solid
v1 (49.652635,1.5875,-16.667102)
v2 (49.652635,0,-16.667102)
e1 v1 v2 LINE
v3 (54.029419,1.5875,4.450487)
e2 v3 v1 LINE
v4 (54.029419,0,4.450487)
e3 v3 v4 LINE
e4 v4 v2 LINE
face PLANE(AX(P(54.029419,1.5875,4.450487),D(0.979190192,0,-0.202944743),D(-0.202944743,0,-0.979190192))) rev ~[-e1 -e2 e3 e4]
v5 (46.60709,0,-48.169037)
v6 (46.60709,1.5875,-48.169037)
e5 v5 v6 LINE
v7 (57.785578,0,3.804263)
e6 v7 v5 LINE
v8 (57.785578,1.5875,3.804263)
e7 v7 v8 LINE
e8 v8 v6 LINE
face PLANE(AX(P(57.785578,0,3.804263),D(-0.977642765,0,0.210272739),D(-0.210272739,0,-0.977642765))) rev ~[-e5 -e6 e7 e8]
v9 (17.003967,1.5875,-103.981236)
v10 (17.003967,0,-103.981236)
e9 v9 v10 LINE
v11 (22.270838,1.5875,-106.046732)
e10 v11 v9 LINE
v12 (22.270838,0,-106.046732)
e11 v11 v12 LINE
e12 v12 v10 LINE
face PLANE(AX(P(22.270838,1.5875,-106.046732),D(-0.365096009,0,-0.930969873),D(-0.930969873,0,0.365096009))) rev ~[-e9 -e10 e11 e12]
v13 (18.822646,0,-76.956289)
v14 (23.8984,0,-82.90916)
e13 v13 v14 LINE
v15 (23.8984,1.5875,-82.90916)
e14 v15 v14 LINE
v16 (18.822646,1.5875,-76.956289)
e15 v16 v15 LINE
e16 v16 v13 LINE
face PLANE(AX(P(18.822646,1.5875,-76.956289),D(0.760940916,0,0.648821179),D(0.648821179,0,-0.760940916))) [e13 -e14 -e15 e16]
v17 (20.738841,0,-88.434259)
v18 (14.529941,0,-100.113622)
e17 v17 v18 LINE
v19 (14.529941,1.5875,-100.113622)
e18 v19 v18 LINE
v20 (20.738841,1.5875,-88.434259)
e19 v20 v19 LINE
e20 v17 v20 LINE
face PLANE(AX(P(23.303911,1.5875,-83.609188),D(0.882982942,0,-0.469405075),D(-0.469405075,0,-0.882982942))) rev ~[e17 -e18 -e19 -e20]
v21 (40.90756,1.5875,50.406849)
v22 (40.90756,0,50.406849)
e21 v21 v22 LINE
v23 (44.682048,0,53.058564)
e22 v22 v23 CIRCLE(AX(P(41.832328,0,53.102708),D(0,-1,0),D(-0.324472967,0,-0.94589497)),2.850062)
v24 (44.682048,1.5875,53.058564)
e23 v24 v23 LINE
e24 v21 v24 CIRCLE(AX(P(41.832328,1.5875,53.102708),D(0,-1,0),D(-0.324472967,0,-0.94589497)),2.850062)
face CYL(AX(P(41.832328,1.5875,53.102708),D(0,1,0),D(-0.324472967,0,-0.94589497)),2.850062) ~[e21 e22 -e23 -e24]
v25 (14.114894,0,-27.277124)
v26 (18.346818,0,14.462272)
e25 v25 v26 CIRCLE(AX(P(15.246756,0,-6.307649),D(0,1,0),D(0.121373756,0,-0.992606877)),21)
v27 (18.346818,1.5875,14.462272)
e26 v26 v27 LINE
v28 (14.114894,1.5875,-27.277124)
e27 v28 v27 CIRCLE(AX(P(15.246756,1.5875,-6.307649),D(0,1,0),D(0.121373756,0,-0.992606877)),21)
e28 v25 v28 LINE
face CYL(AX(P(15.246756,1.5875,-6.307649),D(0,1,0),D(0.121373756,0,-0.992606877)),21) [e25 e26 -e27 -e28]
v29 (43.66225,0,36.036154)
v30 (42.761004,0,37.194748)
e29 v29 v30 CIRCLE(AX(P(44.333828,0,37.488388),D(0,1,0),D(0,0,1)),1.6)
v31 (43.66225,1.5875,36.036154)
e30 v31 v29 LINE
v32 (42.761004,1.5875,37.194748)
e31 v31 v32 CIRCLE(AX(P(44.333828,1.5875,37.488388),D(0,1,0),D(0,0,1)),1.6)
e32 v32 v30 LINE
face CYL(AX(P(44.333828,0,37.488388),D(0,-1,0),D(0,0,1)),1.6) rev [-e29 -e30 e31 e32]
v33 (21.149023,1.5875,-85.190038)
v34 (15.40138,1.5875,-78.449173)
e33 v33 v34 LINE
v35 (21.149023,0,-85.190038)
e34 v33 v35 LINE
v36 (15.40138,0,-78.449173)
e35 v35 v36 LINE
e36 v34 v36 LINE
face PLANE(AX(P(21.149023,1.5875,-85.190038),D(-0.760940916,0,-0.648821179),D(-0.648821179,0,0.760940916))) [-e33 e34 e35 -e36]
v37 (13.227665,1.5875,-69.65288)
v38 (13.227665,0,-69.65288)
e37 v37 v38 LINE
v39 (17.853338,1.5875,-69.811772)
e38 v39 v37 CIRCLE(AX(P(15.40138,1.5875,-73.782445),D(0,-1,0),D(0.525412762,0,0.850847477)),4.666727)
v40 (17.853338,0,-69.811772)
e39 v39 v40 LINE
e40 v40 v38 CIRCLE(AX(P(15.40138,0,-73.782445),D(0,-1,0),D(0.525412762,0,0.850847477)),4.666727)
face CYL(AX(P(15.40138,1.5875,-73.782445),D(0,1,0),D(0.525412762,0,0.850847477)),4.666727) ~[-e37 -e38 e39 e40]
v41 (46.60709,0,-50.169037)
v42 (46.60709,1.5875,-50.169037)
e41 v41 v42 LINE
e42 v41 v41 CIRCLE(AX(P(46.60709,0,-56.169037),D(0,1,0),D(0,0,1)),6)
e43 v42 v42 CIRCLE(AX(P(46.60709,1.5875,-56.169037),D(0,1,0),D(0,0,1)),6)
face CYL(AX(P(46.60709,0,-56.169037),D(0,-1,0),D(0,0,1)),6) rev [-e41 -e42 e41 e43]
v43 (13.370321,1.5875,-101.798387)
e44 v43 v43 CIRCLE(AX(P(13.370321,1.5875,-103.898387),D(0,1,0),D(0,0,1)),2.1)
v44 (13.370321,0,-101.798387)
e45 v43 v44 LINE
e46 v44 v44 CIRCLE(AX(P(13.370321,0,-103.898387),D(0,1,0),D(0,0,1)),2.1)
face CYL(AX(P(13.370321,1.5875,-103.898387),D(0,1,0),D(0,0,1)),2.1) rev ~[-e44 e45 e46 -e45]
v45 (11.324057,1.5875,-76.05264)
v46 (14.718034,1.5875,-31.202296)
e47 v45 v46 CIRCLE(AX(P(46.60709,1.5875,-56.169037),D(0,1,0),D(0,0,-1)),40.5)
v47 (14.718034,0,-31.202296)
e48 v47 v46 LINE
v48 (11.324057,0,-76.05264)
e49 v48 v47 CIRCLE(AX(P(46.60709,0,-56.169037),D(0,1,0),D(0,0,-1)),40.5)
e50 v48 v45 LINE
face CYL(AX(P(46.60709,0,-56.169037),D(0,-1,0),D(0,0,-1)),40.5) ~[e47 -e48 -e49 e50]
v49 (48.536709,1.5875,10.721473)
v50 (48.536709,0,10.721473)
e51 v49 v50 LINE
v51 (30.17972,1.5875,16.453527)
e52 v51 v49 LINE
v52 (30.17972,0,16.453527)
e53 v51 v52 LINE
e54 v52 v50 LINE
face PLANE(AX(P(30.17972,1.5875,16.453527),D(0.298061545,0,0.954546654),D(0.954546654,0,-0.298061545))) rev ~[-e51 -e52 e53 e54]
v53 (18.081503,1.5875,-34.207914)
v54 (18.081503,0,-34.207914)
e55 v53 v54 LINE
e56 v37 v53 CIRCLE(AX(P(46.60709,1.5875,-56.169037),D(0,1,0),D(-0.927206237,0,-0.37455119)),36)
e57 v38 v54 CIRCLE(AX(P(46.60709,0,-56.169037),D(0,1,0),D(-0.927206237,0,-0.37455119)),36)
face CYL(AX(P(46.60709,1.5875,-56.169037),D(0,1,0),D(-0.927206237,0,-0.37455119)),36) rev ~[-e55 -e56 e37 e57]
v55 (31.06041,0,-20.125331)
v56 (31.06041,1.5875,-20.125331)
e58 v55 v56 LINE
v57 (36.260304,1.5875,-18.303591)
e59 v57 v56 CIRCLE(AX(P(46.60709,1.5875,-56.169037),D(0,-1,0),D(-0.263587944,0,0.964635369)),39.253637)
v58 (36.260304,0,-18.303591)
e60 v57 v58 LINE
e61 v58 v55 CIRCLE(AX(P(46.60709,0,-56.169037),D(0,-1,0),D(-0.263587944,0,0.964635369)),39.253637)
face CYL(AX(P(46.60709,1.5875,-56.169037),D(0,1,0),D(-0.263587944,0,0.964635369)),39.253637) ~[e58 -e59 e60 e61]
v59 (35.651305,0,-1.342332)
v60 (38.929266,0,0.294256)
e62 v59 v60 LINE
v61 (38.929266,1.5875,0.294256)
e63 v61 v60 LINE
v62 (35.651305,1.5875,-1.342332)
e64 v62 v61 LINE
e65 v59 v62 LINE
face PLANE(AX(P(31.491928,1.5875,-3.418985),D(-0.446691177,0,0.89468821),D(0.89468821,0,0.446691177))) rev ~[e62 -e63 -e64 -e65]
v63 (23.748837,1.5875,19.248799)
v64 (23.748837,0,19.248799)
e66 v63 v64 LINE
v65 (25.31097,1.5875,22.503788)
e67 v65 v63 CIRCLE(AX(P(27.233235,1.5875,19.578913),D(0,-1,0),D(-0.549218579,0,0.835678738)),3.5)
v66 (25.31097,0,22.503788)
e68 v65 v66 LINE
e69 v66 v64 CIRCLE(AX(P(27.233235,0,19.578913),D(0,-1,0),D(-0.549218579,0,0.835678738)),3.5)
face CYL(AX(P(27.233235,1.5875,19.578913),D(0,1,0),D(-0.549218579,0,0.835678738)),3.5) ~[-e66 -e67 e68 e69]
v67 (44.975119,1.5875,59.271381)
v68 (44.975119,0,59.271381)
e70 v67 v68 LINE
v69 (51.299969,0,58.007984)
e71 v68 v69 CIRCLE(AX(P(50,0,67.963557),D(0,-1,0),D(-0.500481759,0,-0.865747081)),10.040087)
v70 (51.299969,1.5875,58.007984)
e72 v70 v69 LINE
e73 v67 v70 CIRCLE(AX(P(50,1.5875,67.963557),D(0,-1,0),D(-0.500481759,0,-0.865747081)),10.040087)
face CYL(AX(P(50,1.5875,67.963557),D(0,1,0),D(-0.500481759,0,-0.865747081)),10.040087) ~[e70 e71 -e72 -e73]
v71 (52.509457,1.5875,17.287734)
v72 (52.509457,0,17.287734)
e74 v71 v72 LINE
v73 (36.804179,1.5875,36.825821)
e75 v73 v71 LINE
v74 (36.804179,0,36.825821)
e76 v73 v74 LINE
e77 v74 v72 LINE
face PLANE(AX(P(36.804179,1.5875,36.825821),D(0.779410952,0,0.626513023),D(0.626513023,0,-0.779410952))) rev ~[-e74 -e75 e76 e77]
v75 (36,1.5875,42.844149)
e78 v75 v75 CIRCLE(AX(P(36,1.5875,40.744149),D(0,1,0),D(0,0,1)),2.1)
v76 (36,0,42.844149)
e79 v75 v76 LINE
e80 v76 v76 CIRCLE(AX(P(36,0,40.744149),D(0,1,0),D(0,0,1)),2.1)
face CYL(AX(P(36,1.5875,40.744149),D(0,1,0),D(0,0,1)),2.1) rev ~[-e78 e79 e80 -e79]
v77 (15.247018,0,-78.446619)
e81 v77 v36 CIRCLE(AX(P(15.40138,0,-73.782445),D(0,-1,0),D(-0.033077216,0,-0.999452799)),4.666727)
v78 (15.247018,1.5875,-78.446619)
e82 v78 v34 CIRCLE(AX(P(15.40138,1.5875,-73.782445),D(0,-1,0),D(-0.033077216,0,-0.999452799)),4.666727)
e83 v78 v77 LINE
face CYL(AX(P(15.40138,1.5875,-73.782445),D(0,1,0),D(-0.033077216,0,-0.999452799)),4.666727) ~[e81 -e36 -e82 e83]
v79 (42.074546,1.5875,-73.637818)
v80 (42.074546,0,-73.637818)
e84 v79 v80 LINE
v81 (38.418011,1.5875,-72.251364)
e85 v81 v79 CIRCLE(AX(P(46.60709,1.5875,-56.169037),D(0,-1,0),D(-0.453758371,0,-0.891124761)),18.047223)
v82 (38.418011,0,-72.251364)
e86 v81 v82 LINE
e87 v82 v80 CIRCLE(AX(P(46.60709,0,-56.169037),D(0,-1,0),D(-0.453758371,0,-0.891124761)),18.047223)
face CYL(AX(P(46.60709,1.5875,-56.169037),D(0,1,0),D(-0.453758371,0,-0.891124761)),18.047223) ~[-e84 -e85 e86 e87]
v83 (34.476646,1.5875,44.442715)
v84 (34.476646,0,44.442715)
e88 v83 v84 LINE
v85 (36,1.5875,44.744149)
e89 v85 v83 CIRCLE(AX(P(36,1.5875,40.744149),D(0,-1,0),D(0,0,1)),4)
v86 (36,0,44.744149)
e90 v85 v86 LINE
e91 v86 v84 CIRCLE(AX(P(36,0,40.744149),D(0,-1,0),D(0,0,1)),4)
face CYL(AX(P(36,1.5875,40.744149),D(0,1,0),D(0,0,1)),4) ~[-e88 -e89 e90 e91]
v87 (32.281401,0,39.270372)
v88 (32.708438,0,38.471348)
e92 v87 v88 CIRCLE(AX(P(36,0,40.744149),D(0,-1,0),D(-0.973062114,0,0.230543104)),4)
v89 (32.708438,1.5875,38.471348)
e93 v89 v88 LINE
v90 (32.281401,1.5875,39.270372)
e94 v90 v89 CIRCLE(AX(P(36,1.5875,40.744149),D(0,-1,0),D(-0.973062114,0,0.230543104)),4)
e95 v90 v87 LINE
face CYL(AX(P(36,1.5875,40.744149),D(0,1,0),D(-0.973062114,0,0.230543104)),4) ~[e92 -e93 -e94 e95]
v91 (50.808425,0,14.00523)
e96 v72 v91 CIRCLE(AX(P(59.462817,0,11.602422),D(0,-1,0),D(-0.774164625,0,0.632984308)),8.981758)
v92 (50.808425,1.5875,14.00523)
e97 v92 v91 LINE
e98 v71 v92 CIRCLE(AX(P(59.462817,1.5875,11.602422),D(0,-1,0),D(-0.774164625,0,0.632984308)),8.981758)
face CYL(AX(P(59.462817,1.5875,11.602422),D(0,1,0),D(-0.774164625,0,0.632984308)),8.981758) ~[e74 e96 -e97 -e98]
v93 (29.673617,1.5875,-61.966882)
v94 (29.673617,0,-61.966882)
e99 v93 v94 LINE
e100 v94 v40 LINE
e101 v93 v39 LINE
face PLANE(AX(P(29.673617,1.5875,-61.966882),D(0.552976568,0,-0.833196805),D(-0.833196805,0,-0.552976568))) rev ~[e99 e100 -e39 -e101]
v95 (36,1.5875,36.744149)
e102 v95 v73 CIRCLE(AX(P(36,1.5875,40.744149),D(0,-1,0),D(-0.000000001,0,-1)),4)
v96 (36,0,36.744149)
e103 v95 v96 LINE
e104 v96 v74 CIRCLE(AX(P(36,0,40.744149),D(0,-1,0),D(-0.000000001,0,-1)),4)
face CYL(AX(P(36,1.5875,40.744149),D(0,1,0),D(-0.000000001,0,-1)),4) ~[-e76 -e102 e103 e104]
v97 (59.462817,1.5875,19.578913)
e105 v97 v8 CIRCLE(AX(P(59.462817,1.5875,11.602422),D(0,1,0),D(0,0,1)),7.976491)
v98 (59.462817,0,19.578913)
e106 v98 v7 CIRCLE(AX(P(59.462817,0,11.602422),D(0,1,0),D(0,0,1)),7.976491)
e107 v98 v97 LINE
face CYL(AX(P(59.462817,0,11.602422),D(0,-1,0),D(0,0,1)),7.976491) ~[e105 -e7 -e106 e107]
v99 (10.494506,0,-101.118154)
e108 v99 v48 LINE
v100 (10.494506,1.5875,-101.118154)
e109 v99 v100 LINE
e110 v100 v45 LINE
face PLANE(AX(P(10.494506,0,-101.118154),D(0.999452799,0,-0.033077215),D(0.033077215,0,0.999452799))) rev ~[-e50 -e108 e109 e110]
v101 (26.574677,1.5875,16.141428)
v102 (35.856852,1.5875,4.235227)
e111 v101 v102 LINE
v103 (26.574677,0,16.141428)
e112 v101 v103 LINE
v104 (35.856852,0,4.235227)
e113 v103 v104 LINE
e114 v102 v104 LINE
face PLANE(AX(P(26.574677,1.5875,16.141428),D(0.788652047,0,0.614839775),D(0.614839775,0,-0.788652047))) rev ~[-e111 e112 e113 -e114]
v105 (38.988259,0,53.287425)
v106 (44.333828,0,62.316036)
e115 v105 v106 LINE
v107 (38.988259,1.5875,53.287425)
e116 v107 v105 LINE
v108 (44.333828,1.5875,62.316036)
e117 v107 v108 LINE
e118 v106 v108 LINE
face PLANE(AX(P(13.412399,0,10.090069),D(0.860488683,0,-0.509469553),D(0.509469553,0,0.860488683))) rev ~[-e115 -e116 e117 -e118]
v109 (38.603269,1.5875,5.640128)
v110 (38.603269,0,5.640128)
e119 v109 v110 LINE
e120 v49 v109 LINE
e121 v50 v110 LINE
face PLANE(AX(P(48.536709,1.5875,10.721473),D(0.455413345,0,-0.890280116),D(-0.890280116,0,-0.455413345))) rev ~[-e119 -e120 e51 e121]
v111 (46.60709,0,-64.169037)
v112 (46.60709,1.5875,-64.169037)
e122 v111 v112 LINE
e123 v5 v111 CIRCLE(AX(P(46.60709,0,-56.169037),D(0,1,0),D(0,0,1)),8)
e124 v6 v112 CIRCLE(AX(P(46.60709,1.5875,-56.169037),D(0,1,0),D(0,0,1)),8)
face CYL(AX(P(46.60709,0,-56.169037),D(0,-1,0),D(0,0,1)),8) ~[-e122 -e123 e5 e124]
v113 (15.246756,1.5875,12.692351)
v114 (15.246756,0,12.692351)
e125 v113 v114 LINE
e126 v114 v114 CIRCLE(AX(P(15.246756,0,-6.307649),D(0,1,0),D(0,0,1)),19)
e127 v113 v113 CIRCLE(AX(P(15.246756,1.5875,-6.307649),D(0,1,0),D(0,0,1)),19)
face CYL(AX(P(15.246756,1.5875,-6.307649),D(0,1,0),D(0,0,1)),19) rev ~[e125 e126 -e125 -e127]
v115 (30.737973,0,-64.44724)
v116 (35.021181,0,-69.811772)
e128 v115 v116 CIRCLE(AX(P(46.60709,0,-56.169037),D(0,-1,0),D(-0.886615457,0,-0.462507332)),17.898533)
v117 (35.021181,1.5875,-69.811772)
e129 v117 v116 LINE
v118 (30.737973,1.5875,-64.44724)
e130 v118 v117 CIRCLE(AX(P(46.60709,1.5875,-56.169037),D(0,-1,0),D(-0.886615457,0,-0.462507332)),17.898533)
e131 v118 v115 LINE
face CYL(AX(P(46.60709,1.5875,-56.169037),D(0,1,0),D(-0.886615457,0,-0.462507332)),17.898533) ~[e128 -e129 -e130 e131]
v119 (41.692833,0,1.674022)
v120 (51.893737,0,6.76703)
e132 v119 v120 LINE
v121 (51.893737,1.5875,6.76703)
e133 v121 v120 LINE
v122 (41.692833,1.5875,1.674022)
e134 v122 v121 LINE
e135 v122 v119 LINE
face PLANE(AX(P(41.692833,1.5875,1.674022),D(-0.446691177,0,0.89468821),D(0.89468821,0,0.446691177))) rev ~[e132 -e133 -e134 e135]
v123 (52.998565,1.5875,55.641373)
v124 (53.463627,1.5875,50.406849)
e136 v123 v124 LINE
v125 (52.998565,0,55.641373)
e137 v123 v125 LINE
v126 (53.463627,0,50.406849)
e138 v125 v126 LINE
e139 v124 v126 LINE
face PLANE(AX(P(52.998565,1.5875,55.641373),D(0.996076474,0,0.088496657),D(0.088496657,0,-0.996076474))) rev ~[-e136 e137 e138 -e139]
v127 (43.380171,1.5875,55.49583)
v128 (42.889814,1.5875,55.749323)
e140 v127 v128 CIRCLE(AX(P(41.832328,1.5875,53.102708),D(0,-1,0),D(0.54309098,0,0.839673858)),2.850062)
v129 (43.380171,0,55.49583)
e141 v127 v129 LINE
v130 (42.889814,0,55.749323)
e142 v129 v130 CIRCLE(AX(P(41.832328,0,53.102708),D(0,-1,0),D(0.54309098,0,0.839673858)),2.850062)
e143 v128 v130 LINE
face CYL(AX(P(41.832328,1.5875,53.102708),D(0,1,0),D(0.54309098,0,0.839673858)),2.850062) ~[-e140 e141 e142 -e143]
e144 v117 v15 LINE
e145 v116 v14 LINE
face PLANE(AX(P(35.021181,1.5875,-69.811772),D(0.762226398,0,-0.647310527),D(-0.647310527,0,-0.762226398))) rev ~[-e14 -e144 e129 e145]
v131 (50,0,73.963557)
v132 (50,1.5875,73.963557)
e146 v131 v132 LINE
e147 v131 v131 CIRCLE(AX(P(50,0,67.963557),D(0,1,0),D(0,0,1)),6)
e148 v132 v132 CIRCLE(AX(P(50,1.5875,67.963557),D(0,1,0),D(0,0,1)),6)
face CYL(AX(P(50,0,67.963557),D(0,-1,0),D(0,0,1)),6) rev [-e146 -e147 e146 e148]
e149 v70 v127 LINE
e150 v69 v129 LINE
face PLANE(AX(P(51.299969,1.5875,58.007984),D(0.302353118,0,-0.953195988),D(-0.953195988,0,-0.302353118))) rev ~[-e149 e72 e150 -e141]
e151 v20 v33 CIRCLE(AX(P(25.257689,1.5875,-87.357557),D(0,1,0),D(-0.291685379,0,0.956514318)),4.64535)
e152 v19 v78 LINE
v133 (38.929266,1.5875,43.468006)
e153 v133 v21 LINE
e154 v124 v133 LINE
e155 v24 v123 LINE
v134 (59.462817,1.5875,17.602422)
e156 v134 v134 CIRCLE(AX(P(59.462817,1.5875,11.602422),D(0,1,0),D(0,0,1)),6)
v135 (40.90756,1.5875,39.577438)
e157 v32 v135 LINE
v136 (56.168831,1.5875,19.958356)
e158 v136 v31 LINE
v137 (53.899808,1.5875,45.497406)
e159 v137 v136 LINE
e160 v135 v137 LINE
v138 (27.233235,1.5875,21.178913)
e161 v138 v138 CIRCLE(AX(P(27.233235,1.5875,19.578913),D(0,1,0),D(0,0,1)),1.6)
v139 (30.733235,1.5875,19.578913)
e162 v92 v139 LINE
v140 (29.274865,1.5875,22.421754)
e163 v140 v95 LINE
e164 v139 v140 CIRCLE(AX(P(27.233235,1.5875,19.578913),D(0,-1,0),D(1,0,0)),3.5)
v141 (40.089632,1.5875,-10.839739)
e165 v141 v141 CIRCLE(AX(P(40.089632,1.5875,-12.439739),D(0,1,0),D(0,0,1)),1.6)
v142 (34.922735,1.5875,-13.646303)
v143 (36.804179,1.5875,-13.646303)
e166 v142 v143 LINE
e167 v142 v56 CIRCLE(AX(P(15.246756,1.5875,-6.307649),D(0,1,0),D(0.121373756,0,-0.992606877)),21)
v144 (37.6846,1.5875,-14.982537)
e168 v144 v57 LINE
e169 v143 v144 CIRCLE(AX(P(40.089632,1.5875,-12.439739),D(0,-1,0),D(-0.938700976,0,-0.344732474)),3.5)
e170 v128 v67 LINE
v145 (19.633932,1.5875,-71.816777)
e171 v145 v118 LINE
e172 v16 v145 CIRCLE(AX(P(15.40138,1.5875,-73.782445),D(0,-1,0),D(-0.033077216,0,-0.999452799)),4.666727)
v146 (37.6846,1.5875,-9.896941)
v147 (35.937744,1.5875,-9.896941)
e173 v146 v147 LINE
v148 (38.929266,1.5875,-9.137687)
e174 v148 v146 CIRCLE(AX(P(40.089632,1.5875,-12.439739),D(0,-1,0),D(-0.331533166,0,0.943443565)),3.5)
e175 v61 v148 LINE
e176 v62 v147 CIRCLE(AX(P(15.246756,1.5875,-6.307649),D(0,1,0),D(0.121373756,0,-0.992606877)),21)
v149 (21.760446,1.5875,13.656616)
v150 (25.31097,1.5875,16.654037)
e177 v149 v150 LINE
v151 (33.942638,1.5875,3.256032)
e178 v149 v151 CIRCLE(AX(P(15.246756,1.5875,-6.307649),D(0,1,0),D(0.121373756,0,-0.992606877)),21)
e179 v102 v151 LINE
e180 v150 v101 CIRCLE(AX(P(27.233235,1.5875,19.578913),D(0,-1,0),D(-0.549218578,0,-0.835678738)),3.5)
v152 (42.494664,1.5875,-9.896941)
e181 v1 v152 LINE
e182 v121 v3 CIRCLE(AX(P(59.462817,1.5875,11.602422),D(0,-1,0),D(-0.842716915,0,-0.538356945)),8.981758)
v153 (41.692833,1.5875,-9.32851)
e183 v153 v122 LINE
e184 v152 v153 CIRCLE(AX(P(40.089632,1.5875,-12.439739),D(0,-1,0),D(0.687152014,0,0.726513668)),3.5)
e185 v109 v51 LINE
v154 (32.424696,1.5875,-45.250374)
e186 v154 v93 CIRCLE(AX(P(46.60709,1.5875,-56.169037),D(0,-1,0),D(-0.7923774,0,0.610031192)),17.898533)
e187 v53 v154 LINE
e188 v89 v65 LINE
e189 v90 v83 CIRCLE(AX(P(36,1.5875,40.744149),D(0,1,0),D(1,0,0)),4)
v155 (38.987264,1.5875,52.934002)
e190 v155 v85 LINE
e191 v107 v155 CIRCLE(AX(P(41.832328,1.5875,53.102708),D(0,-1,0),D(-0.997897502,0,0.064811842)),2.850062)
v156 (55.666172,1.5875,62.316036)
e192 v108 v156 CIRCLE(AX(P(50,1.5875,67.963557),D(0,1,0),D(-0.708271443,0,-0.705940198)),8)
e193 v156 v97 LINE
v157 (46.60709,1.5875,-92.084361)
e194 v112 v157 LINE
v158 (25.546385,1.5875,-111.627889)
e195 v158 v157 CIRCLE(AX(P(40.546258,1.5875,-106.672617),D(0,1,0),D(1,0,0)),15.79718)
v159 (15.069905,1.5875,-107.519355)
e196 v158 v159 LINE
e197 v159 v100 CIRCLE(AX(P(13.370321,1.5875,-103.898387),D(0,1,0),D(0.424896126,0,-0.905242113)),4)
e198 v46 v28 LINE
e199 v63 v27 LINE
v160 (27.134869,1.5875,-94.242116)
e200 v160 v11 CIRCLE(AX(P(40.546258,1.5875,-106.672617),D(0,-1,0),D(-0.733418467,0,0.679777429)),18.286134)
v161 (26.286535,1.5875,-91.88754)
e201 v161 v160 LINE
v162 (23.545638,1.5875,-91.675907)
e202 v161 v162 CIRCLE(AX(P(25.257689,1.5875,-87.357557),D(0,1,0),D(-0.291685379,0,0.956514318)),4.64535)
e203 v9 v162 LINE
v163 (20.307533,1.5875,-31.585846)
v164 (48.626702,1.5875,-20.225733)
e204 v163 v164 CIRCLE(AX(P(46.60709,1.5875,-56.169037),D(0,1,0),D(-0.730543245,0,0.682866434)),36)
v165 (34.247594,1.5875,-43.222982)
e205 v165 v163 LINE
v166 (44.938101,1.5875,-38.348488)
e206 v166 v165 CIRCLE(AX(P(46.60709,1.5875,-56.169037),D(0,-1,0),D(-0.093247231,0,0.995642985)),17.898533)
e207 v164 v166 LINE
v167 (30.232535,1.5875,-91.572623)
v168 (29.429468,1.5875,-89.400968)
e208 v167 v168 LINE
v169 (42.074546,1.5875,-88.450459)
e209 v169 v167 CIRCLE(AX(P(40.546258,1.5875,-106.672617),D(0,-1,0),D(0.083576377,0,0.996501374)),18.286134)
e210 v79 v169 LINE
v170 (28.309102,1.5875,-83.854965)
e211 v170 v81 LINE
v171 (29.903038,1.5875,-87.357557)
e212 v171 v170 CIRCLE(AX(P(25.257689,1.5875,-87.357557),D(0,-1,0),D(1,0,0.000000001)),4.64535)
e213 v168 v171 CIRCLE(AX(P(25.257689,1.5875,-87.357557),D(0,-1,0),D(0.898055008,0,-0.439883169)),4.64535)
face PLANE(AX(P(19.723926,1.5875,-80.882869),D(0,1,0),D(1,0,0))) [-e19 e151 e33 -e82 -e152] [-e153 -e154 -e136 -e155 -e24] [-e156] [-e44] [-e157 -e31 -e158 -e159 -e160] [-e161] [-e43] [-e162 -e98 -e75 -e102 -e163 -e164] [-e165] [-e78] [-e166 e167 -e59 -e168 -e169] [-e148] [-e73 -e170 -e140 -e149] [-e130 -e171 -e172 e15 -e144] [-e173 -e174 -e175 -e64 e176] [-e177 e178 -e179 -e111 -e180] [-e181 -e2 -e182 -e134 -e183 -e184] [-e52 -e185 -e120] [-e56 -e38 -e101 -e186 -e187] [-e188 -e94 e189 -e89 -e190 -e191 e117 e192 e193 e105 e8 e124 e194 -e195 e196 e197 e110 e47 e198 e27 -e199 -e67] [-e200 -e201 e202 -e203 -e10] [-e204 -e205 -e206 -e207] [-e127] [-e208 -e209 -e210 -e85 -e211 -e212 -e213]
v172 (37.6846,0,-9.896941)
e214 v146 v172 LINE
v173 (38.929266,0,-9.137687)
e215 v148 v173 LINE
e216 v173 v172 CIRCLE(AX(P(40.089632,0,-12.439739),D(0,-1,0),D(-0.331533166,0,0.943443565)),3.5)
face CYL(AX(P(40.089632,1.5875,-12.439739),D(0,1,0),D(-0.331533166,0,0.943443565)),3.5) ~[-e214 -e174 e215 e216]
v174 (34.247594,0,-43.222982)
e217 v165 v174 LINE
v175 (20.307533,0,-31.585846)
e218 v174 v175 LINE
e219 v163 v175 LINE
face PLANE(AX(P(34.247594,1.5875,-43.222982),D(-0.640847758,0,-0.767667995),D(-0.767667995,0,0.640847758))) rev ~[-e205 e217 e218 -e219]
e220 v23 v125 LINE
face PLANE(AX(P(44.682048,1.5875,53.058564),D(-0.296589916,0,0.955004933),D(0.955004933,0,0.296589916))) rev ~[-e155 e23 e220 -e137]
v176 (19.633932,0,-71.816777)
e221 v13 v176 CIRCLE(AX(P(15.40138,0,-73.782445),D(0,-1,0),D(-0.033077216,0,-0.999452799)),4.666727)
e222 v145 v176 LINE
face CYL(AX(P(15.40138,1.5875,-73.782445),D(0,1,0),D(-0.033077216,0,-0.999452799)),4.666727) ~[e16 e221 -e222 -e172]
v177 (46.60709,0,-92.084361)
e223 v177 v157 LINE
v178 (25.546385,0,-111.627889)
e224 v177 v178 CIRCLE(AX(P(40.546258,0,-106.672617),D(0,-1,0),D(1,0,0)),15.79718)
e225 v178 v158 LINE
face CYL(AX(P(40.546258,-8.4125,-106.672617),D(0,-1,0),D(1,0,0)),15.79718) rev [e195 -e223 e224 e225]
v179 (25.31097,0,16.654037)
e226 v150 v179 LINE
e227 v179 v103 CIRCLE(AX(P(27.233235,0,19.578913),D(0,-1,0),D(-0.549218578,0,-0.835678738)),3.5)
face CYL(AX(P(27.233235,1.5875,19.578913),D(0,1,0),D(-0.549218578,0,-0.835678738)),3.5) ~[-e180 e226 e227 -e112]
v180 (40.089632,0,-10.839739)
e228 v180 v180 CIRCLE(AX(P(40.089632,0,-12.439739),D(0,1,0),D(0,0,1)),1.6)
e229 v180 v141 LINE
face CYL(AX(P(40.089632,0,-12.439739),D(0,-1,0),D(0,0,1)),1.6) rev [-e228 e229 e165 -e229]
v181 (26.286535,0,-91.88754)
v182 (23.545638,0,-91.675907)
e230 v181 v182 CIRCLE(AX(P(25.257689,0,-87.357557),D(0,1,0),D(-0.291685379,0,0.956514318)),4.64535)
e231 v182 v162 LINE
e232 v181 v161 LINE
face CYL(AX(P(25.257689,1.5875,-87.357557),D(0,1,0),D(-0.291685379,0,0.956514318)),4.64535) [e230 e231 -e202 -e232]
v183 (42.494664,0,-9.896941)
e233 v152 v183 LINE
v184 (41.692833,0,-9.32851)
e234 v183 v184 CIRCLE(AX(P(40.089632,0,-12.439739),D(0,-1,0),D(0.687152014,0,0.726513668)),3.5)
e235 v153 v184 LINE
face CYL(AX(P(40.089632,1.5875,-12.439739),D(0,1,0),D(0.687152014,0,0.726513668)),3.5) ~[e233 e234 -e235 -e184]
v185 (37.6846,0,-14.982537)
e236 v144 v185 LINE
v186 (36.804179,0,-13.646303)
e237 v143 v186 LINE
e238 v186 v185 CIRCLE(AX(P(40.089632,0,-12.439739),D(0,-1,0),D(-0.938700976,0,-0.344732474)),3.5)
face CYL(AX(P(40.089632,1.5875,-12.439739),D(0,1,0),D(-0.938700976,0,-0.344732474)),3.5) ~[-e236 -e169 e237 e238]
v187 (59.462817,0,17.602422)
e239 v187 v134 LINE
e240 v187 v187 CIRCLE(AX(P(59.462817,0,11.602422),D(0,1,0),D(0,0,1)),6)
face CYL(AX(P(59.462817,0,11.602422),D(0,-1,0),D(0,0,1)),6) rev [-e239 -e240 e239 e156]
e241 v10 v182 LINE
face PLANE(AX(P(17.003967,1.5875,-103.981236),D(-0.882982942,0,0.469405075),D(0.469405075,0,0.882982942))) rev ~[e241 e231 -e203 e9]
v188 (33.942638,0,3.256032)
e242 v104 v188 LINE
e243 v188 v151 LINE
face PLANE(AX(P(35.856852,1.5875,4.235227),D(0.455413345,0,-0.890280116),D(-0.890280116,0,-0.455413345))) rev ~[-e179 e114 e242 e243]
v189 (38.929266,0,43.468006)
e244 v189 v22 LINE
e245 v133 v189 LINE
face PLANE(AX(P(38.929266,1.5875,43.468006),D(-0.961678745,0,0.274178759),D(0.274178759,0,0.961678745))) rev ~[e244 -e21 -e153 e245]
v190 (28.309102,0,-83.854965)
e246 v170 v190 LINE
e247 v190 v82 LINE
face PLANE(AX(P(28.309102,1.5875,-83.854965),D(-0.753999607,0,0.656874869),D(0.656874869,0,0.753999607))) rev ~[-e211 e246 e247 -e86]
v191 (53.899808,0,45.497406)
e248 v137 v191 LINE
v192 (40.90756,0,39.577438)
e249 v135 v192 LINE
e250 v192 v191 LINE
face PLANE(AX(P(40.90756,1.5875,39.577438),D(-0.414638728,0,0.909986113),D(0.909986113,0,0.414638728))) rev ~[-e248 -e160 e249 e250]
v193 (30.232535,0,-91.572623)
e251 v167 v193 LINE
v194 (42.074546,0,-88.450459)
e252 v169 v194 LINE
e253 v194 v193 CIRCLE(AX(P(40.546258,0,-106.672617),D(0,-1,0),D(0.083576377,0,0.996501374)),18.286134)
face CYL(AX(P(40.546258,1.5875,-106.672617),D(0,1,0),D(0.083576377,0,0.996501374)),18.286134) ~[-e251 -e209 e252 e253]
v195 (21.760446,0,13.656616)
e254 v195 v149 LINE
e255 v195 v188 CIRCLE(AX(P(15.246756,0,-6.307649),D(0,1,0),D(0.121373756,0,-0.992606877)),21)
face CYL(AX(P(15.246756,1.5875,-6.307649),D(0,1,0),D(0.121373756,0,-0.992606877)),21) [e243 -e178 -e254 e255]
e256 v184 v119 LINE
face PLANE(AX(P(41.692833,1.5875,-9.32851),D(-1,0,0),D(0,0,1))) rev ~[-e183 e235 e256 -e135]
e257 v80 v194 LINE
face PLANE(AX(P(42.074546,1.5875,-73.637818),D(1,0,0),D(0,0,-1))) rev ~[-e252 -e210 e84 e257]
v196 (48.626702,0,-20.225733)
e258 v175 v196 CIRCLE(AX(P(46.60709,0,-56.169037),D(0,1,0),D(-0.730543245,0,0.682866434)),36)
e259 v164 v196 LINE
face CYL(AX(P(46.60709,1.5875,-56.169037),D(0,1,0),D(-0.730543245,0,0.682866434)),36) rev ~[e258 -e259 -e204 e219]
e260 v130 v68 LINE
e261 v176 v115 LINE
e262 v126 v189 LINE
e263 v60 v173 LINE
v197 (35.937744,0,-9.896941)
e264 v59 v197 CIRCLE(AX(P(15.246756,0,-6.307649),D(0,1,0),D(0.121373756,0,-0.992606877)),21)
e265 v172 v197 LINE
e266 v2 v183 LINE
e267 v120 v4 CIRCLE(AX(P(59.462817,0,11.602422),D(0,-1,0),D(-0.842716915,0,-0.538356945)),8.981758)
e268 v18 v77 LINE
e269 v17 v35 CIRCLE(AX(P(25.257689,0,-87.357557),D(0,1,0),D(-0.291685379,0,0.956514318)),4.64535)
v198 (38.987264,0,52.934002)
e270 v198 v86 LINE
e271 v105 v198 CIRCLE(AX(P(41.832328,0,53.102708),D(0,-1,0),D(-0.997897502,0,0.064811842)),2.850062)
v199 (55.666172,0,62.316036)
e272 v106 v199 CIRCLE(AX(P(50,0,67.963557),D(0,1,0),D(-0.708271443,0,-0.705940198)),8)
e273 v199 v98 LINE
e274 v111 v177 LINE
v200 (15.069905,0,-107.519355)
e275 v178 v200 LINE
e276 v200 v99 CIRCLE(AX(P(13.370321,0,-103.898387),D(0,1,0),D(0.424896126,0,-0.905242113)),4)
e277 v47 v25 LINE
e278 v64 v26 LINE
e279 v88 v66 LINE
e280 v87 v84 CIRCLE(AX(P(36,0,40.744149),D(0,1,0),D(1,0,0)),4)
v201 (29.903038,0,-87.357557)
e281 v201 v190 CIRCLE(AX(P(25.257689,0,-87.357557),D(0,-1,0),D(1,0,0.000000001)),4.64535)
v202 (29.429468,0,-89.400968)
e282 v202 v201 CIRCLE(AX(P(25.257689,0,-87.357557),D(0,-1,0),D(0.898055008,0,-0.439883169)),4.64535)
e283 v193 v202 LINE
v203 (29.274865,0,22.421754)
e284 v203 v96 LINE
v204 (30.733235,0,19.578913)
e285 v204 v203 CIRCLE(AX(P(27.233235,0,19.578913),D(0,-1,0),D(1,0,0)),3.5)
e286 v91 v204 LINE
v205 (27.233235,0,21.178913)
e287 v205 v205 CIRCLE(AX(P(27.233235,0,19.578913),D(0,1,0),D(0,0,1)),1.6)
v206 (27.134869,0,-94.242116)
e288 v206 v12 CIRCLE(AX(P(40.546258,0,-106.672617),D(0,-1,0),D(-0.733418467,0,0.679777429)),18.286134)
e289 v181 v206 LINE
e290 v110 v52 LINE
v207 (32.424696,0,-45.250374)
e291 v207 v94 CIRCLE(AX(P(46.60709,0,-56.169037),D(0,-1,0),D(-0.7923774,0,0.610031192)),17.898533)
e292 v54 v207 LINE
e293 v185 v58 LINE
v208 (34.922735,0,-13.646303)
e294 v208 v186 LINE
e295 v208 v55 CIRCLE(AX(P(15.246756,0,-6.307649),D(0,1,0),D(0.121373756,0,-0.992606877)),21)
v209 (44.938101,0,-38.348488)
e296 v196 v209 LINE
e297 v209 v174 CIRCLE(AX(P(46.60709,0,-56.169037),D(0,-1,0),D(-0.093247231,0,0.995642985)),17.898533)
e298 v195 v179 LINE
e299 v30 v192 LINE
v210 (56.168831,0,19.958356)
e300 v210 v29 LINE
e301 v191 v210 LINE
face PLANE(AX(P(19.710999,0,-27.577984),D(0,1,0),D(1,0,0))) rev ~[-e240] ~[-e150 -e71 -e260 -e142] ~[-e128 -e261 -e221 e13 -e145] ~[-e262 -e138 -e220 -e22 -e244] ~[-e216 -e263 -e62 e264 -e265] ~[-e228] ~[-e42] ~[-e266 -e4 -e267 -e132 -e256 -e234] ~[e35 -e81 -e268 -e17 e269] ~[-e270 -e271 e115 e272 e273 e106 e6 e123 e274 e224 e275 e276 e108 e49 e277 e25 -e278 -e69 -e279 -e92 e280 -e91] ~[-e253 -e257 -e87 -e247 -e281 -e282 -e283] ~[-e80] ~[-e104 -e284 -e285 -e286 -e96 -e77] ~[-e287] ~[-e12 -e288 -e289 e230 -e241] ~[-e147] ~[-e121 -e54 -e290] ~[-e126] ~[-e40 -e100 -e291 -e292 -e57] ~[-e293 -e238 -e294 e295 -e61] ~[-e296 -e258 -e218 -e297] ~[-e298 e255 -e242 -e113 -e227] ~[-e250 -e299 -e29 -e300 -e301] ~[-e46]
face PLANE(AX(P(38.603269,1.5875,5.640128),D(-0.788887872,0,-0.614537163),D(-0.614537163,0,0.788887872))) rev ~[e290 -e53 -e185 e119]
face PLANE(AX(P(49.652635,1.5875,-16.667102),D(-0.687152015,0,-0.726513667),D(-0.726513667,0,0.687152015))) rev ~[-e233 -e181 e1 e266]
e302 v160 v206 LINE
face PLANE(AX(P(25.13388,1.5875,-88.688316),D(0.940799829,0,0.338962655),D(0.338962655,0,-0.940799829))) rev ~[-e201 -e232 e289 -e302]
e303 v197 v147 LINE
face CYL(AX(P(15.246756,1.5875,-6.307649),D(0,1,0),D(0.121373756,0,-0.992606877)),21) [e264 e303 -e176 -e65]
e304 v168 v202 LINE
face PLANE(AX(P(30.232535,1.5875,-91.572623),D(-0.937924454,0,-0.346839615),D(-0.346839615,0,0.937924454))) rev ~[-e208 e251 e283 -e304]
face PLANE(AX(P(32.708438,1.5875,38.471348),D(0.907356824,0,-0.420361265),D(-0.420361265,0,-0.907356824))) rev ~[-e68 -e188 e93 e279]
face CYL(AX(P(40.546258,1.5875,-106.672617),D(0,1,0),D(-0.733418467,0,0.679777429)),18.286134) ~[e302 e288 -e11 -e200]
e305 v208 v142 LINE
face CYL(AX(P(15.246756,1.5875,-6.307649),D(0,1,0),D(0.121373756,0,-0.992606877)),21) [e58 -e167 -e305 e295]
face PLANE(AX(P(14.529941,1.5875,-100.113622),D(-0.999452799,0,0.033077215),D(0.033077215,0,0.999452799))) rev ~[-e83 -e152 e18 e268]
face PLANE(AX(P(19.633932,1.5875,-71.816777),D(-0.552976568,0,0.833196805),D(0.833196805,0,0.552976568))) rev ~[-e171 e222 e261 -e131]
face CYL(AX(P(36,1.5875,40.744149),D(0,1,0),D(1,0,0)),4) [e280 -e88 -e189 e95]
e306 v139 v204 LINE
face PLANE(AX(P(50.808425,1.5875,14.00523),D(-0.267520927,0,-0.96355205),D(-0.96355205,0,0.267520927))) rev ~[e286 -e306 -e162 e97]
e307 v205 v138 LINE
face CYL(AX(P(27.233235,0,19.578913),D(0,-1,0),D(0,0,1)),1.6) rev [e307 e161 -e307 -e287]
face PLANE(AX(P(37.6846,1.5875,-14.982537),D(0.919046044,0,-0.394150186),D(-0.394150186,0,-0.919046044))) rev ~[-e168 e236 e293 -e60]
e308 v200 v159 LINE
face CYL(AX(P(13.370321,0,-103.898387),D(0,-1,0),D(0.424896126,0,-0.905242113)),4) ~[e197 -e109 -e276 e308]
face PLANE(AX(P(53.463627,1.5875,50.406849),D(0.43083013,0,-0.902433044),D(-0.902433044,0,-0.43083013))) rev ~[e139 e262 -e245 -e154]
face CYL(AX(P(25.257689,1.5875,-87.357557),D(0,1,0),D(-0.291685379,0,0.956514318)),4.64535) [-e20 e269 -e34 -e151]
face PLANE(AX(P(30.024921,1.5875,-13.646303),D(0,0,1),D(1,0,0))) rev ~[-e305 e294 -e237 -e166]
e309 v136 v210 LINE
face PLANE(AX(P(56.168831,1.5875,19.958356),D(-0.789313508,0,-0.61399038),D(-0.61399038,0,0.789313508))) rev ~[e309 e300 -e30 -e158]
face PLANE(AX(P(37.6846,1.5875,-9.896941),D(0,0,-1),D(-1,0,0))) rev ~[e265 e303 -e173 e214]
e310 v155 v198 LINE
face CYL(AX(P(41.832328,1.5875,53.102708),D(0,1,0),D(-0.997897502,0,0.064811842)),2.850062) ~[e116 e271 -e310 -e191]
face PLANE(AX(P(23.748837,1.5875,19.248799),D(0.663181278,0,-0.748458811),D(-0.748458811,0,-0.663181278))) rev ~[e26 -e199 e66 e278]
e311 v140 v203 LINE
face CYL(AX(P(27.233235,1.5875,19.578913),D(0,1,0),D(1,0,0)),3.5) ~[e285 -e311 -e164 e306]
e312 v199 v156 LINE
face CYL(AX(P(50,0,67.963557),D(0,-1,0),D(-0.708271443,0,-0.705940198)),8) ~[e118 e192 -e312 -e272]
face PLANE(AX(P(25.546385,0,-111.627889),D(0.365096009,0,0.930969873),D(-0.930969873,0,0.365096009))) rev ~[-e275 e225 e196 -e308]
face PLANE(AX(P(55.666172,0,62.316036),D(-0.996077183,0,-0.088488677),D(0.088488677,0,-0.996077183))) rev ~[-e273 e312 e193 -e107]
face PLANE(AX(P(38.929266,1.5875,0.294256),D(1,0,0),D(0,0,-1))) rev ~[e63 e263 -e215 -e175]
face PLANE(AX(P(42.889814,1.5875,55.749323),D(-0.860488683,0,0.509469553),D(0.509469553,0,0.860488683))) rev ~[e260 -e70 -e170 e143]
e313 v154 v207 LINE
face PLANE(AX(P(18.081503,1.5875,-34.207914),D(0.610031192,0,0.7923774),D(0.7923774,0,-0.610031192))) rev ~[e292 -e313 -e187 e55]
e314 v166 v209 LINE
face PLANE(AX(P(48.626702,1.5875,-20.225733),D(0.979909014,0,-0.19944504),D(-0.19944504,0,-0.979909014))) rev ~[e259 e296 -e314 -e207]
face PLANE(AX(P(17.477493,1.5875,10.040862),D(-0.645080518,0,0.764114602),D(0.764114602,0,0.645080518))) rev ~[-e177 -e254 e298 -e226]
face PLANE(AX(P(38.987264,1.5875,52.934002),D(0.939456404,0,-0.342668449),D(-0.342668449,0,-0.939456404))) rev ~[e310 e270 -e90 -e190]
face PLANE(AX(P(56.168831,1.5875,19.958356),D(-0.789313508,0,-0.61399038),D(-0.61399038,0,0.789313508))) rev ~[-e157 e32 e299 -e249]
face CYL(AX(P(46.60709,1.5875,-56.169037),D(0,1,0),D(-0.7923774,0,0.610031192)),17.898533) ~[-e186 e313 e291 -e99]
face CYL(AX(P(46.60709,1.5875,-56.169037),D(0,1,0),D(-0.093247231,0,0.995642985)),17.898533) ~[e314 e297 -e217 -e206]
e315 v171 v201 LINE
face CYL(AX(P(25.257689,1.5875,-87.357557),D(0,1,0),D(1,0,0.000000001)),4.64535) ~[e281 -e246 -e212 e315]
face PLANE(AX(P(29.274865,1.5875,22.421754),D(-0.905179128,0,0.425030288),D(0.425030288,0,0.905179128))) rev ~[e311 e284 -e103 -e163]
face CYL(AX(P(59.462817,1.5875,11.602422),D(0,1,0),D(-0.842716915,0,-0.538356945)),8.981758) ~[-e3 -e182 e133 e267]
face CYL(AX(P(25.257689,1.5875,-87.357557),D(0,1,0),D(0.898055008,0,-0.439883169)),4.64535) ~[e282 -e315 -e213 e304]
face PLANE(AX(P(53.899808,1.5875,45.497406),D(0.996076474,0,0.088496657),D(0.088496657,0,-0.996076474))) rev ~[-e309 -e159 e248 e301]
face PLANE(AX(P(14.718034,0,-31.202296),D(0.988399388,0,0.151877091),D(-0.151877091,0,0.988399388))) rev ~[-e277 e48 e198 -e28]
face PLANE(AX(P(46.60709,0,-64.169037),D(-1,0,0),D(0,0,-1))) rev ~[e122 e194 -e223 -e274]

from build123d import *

# Parameters (mm, degrees)
SKETCH1_R           = 1.6
SKETCH1_R_2         = 2
SKETCH1_R_3         = 1.65
SKETCH1_R_4         = 6
BOSS_EXTRUDE2_DEPTH = 1.5875
BOSS_EXTRUDE3_START = -1.5875
BOSS_EXTRUDE3_DEPTH = 1.5875
SKETCH4_R           = 4.4
SKETCH4_R_2         = 2.1
CUT_EXTRUDE1_DEPTH  = 1.5875
BOSS_EXTRUDE4_START = -1.5875
BOSS_EXTRUDE4_DEPTH = 1.5875
SKETCH7_R           = 2.1
CUT_EXTRUDE2_DEPTH  = 1.5875
CUT_EXTRUDE3_DEPTH  = 1.5875
CUT_EXTRUDE4_DEPTH  = 1.5875
SKETCH10_R          = 4.645349595
BOSS_EXTRUDE5_DEPTH = 1.5875
CUT_EXTRUDE5_DEPTH  = 1.5875
CUT_EXTRUDE9_DEPTH  = 1.5875
SKETCH19_R          = 4
BOSS_EXTRUDE8_DEPTH = 1.5875
SKETCH20_R          = 2.1
CUT_EXTRUDE12_DEPTH = 1.5875
CUT_EXTRUDE13_START = -10
SKETCH21_R          = 15.797179748
CUT_EXTRUDE13_DEPTH = 10
SKETCH22_R          = 1.962106472
SKETCH22_R_2        = 21
BOSS_EXTRUDE9_DEPTH = 1.5875
SKETCH23_R          = 19
CUT_EXTRUDE15_DEPTH = 1.5875


with BuildPart() as part:
    # Sketch1 → Boss-Extrude2 (new body)
    with BuildSketch(Plane(origin=(0, 0, 0), x_dir=(1, 0, 0), z_dir=(0, 1, 0))):
        with BuildLine():
            Line((57.785577921, -3.804263015), (46.607089569, 48.169037391))
            ThreePointArc((46.607089569, 48.169037391), (54.607089569, 56.169037391), (46.607089569, 64.169037391))
            Line((46.607089569, 64.169037391), (46.607089569, 96.669037391))
            ThreePointArc((46.607089569, 96.669037391), (9.774896481, 73.010639225), (15.974342375, 29.675928865))
            Line((15.974342375, 29.675928865), (13.412399058, 22.705365919))
            ThreePointArc((13.412399058, 22.705365919), (-1.253243965, 6.307648563), (13.412399058, -10.090068793))
            Line((13.412399058, -10.090068793), (44.33382846, -62.316035804))
            ThreePointArc((44.33382846, -62.316035804), (50, -75.963557391), (55.66617154, -62.316035804))
            Line((55.66617154, -62.316035804), (59.462816555, -19.578912916))
            ThreePointArc((59.462816555, -19.578912916), (67.394599283, -10.759075533), (57.785577921, -3.804263015))
        make_face()
        with Locations(Location((27.233234802, -19.578912916, 0), (0, 0, 270))):
            Circle(SKETCH1_R, mode=Mode.SUBTRACT)
        with Locations(Location((44.33382846, -37.488387538, 0), (0, 0, 270))):
            Circle(SKETCH1_R, mode=Mode.SUBTRACT)
        with Locations(Location((40.089632361, 12.439739227, 0), (0, 0, 270))):
            Circle(SKETCH1_R, mode=Mode.SUBTRACT)
        with Locations(Location((13.571109585, 17.496580995, 0), (0, 0, 270))):
            Circle(SKETCH1_R_2, mode=Mode.SUBTRACT)
        with Locations(Location((26.435688468, 7.983295014, 0), (0, 0, 270))):
            Circle(SKETCH1_R_3, mode=Mode.SUBTRACT)
        with Locations(Location((4.057823603, 4.632002113, 0), (0, 0, 270))):
            Circle(SKETCH1_R_2, mode=Mode.SUBTRACT)
        with Locations(Location((16.922402486, -4.881283869, 0), (0, 0, 270))):
            Circle(SKETCH1_R_3, mode=Mode.SUBTRACT)
        with Locations(Location((46.607089569, 56.169037391, 0), (0, 0, 270))):
            Circle(SKETCH1_R_4, mode=Mode.SUBTRACT)
        with Locations(Location((59.462816555, -11.60242182, 0), (0, 0, 270))):
            Circle(SKETCH1_R_4, mode=Mode.SUBTRACT)
        with Locations(Location((50, -67.963557391, 0), (0, 0, 270))):
            Circle(SKETCH1_R_4, mode=Mode.SUBTRACT)
    extrude(amount=BOSS_EXTRUDE2_DEPTH)

    # Sketch3 → Boss-Extrude3 (add)
    with BuildSketch(Plane(origin=(0, 1.5875, 0), x_dir=(1, 0, 0), z_dir=(0, 1, 0)).offset(BOSS_EXTRUDE3_START)):
        with BuildLine():
            ThreePointArc((56.343437375, 106.672616503), (38.029280092, 122.267991205), (25.551142047, 101.702968958))
            ThreePointArc((25.551142047, 101.702968958), (27.87263843, 97.242332074), (31.478334129, 93.737252132))
            ThreePointArc((31.478334129, 93.737252132), (38.901984022, 95.929336038), (46.607089569, 96.669037391))
            Line((46.607089569, 96.669037391), (46.607089569, 92.08436081))
            ThreePointArc((46.607089569, 92.08436081), (53.685796044, 97.903157102), (56.343437375, 106.672616503))
        make_face()
        with BuildLine():
            ThreePointArc((46.607089569, 96.669037391), (38.901984022, 95.929336038), (31.478334129, 93.737252132))
            ThreePointArc((31.478334129, 93.737252132), (38.83054718, 90.968883646), (46.607089569, 92.08436081))
            Line((46.607089569, 92.08436081), (46.607089569, 96.669037391))
        make_face()
        with BuildLine():
            Line((25.551142047, 101.702968958), (23.684957519, 89.558045497))
            ThreePointArc((23.684957519, 89.558045497), (27.467237121, 91.860997946), (31.478334129, 93.737252132))
            ThreePointArc((31.478334129, 93.737252132), (27.87263843, 97.242332074), (25.551142047, 101.702968958))
        make_face()
        with BuildLine():
            Line((14.718034312, 31.202296417), (13.412399058, 22.705365919))
            Line((13.412399058, 22.705365919), (15.974342375, 29.675928865))
            ThreePointArc((15.974342375, 29.675928865), (15.33687379, 30.431446107), (14.718034312, 31.202296417))
        make_face()
    extrude(amount=BOSS_EXTRUDE3_DEPTH)

    # Sketch4 → Cut-Extrude1 (cut)
    with BuildSketch(Plane(origin=(0, 1.5875, 0), x_dir=(1, 0, 0), z_dir=(0, 1, 0))):
        with Locations(Location((40.546257627, 106.672616503, 0), (0, 0, 270))):
            Circle(SKETCH4_R)
        with Locations(Location((40.546257627, 117.14024961, 0), (0, 0, 270))):
            Circle(SKETCH4_R_2)
        with Locations(Location((30.07862452, 106.672616503, 0), (0, 0, 270))):
            Circle(SKETCH4_R_2)
        with Locations(Location((51.013890734, 106.672616503, 0), (0, 0, 270))):
            Circle(SKETCH4_R_2)
        with Locations(Location((40.546257627, 96.204983396, 0), (0, 0, 270))):
            Circle(SKETCH4_R_2)
    extrude(amount=-CUT_EXTRUDE1_DEPTH, mode=Mode.SUBTRACT)

    # Sketch5 → Boss-Extrude4 (add)
    with BuildSketch(Plane(origin=(0, 1.5875, 0), x_dir=(1, 0, 0), z_dir=(0, 1, 0)).offset(BOSS_EXTRUDE4_START)):
        with BuildLine():
            ThreePointArc((25.551142047, 101.702968958), (24.749079693, 106.66504565), (25.546385494, 111.627888844))
            Line((25.546385494, 111.627888844), (15.069905078, 107.519355049))
            ThreePointArc((15.069905078, 107.519355049), (16.746586116, 106.043341376), (17.370320575, 103.898386599))
            ThreePointArc((17.370320575, 103.898386599), (14.869777486, 100.190067711), (10.494506089, 101.118154407))
            Line((10.494506089, 101.118154407), (11.324057448, 76.05263979))
            ThreePointArc((11.324057448, 76.05263979), (16.731358953, 83.512971273), (23.684957519, 89.558045497))
            Line((23.684957519, 89.558045497), (25.551142047, 101.702968958))
        make_face()
        with BuildLine():
            ThreePointArc((17.370320575, 103.898386599), (16.746586116, 106.043341376), (15.069905078, 107.519355049))
            Line((15.069905078, 107.519355049), (10.494506089, 101.118154407))
            ThreePointArc((10.494506089, 101.118154407), (14.869777486, 100.190067711), (17.370320575, 103.898386599))
        make_face()
        with BuildLine():
            Line((10.494506089, 101.118154407), (15.069905078, 107.519355049))
            ThreePointArc((15.069905078, 107.519355049), (10.116135322, 106.224387102), (10.494506089, 101.118154407))
        make_face()
    extrude(amount=BOSS_EXTRUDE4_DEPTH)

    # Sketch7 → Cut-Extrude2 (cut)
    with BuildSketch(Plane(origin=(0, 1.5875, 0), x_dir=(1, 0, 0), z_dir=(0, 1, 0))):
        with Locations(Location((13.370320575, 103.898386599, 0), (0, 0, 270))):
            Circle(SKETCH7_R)
    extrude(amount=-CUT_EXTRUDE2_DEPTH, mode=Mode.SUBTRACT)

    # Sketch8 → Cut-Extrude3 (cut)
    with BuildSketch(Plane(origin=(0, 1.5875, 0), x_dir=(1, 0, 0), z_dir=(0, 1, 0))):
        with BuildLine():
            Line((22.270838211, 106.046731613), (17.003966644, 103.98123643))
            Line((17.003966644, 103.98123643), (25.133879781, 88.688315663))
            Line((25.133879781, 88.688315663), (27.134869461, 94.242115541))
            ThreePointArc((27.134869461, 94.242115541), (23.639138303, 99.70612507), (22.270838211, 106.046731613))
        make_face()
        with BuildLine():
            Line((23.303910604, 83.609187721), (14.529941424, 100.113621806))
            Line((14.529941424, 100.113621806), (15.247017929, 78.446619001))
            ThreePointArc((15.247017929, 78.446619001), (19.293244571, 76.357661165), (19.633932022, 71.816777227))
            Line((19.633932022, 71.816777227), (30.737973308, 64.447240272))
            ThreePointArc((30.737973308, 64.447240272), (32.619982891, 67.336773985), (35.021180558, 69.811771949))
            Line((35.021180558, 69.811771949), (23.303910604, 83.609187721))
        make_face()
        with BuildLine():
            ThreePointArc((17.853338423, 69.811771949), (15.561587714, 69.11846853), (13.227665034, 69.65288023))
            ThreePointArc((13.227665034, 69.65288023), (10.939961924, 51.284776385), (18.081503164, 34.207914463))
            Line((18.081503164, 34.207914463), (32.424696296, 45.250373787))
            ThreePointArc((32.424696296, 45.250373787), (28.946124471, 53.262526481), (29.673617088, 61.966882128))
            Line((29.673617088, 61.966882128), (17.853338423, 69.811771949))
        make_face()
    extrude(amount=-CUT_EXTRUDE3_DEPTH, mode=Mode.SUBTRACT)

    # Sketch9 → Cut-Extrude4 (cut)
    with BuildSketch(Plane(origin=(0, 1.5875, 0), x_dir=(1, 0, 0), z_dir=(0, 1, 0))):
        with BuildLine():
            ThreePointArc((42.074546437, 88.450459111), (35.884397618, 88.990711969), (30.232534907, 91.572622783))
            Line((30.232534907, 91.572622783), (29.429468095, 89.400967731))
            ThreePointArc((29.429468095, 89.400967731), (29.783097277, 88.406341356), (29.90303822, 87.357556633))
            ThreePointArc((29.90303822, 87.357556633), (29.485817932, 85.43344764), (28.309102029, 83.854964865))
            Line((28.309102029, 83.854964865), (38.418011185, 72.251364401))
            ThreePointArc((38.418011185, 72.251364401), (40.208614988, 73.043923164), (42.074546437, 73.637818103))
            Line((42.074546437, 73.637818103), (42.074546437, 88.450459111))
        make_face()
    extrude(amount=-CUT_EXTRUDE4_DEPTH, mode=Mode.SUBTRACT)

    # Sketch10 → Boss-Extrude5 (add)
    with BuildSketch(Plane(origin=(0, 1.5875, 0), x_dir=(1, 0, 0), z_dir=(0, 1, 0))):
        with BuildLine():
            Line((21.149022647, 85.190038065), (15.401380278, 78.449172638))
            Line((15.401380278, 78.449172638), (18.822645862, 76.956289361))
            Line((18.822645862, 76.956289361), (23.902708068, 82.914213235))
            ThreePointArc((23.902708068, 82.914213235), (22.29834697, 83.776834662), (21.149022647, 85.190038065))
        make_face()
        with Locations((25.257688625, 87.357556633)):
            Circle(SKETCH10_R)
    extrude(amount=-BOSS_EXTRUDE5_DEPTH)

    # Sketch11 → Cut-Extrude5 (cut)
    with BuildSketch(Plane(origin=(0, 1.5875, 0), x_dir=(1, 0, 0), z_dir=(0, 1, 0))):
        with BuildLine():
            ThreePointArc((44.938100904, 38.348488279), (39.181474054, 39.883530704), (34.247593759, 43.222981731))
            Line((34.247593759, 43.222981731), (20.307532747, 31.585845755))
            ThreePointArc((20.307532747, 31.585845755), (33.204031538, 22.757092889), (48.626702285, 20.225732528))
            Line((48.626702285, 20.225732528), (44.938100904, 38.348488279))
        make_face()
        with BuildLine():
            ThreePointArc((36.26030403, 18.303590576), (27.416947578, 21.925987237), (19.710998912, 27.57798388))
            Line((19.710998912, 27.57798388), (18.938710266, 22.389298788))
            ThreePointArc((18.938710266, 22.389298788), (25.46420767, 19.263484394), (30.024920763, 13.646302887))
            Line((30.024920763, 13.646302887), (36.804178947, 13.646302887))
            ThreePointArc((36.804178947, 13.646302887), (37.166998848, 14.365411409), (37.684600309, 14.982537063))
            Line((37.684600309, 14.982537063), (36.26030403, 18.303590576))
        make_face()
        with BuildLine():
            Line((23.748837452, -19.248799138), (13.412399058, -10.090068793))
            Line((13.412399058, -10.090068793), (32.107751545, -41.666321285))
            ThreePointArc((32.107751545, -41.666321285), (32.068874877, -40.005058031), (32.708438415, -38.471348322))
            Line((32.708438415, -38.471348322), (25.310969778, -22.503788499))
            ThreePointArc((25.310969778, -22.503788499), (24.077804809, -21.093264776), (23.748837452, -19.248799138))
        make_face()
        with BuildLine():
            Line((37.684600309, 9.896941391), (31.351630359, 9.896941391))
            ThreePointArc((31.351630359, 9.896941391), (31.742887661, 6.664917922), (31.491928413, 3.418985476))
            Line((31.491928413, 3.418985476), (38.929266279, -0.294255815))
            Line((38.929266279, -0.294255815), (38.929266279, 9.137686751))
            ThreePointArc((38.929266279, 9.137686751), (38.266960458, 9.451785557), (37.684600309, 9.896941391))
        make_face()
        with BuildLine():
            ThreePointArc((29.936377952, -1.206671629), (24.790621379, -7.152092679), (17.477492698, -10.040862499))
            Line((17.477492698, -10.040862499), (25.310969778, -16.654037333))
            ThreePointArc((25.310969778, -16.654037333), (25.917615868, -16.335589494), (26.574677388, -16.14142806))
            Line((26.574677388, -16.14142806), (35.856851812, -4.235227198))
            Line((35.856851812, -4.235227198), (29.936377952, -1.206671629))
        make_face()
        with BuildLine():
            ThreePointArc((36, -44.74414887), (34.564180779, -44.477568638), (33.319742068, -43.713360451))
            Line((33.319742068, -43.713360451), (38.988258823, -53.287425259))
            ThreePointArc((38.988258823, -53.287425259), (38.982277864, -53.110729221), (38.987264085, -52.934002315))
            Line((38.987264085, -52.934002315), (36, -44.74414887))
        make_face()
        with BuildLine():
            Line((49.652635334, 16.6671019), (42.494664412, 9.896941391))
            ThreePointArc((42.494664412, 9.896941391), (42.113801435, 9.58443897), (41.69283275, 9.328509806))
            Line((41.69283275, 9.328509806), (41.69283275, -1.674022247))
            Line((41.69283275, -1.674022247), (51.893737087, -6.76702997))
            ThreePointArc((51.893737087, -6.76702997), (52.859204313, -5.514377495), (54.029419034, -4.450487136))
            Line((54.029419034, -4.450487136), (49.652635334, 16.6671019))
        make_face()
        with BuildLine():
            ThreePointArc((30.733234802, -19.578912916), (30.347372441, -21.176456895), (29.274865223, -22.421753964))
            Line((29.274865223, -22.421753964), (36, -36.74414887))
            ThreePointArc((36, -36.74414887), (36.404157783, -36.764619188), (36.804178947, -36.825820626))
            Line((36.804178947, -36.825820626), (52.50945718, -17.287733752))
            ThreePointArc((52.50945718, -17.287733752), (51.488220715, -15.734951255), (50.808425135, -14.005230072))
            Line((50.808425135, -14.005230072), (30.733234802, -19.578912916))
        make_face()
        with BuildLine():
            Line((53.46362734, -50.406848658), (38.929266279, -43.468006257))
            Line((38.929266279, -43.468006257), (40.907560182, -50.406848658))
            ThreePointArc((40.907560182, -50.406848658), (43.470698918, -50.770628666), (44.682047755, -53.058564433))
            Line((44.682047755, -53.058564433), (52.998564734, -55.641373157))
            Line((52.998564734, -55.641373157), (53.46362734, -50.406848658))
        make_face()
        Polygon((48.53670869, -10.721473414), (38.603269126, -5.640127828), (30.179720323, -16.453526736), align=None)
        with BuildLine():
            ThreePointArc((43.380170812, -55.495829677), (43.141144188, -55.634475907), (42.889814418, -55.749322982))
            Line((42.889814418, -55.749322982), (44.97511935, -59.271380942))
            ThreePointArc((44.97511935, -59.271380942), (48.033331446, -58.11797098), (51.299968657, -58.007984155))
            Line((51.299968657, -58.007984155), (43.380170812, -55.495829677))
        make_face()
        Polygon((53.899807967, -45.497406051), (56.16883109, -19.958356125), (40.907560182, -39.577437576), align=None)
    extrude(amount=-CUT_EXTRUDE5_DEPTH, mode=Mode.SUBTRACT)

    # Sketch13 → Cut-Extrude9 (cut)
    with BuildSketch(Plane(origin=(0, 1.5875, 0), x_dir=(1, 0, 0), z_dir=(0, 1, 0))):
        with BuildLine():
            ThreePointArc((32.281400747, -39.270371546), (32.010464376, -40.455002704), (32.107751545, -41.666321285))
            Line((32.107751545, -41.666321285), (33.319742068, -43.713360451))
            ThreePointArc((33.319742068, -43.713360451), (33.86679158, -44.127848301), (34.476645862, -44.442715101))
            Line((34.476645862, -44.442715101), (32.281400747, -39.270371546))
        make_face()
    extrude(amount=-CUT_EXTRUDE9_DEPTH, mode=Mode.SUBTRACT)

    # Sketch19 → Boss-Extrude8 (add)
    with BuildSketch(Plane(origin=(0, 1.5875, 0), x_dir=(1, 0, 0), z_dir=(0, 1, 0))):
        with Locations((36, -40.74414887)):
            Circle(SKETCH19_R)
    extrude(amount=-BOSS_EXTRUDE8_DEPTH)

    # Sketch20 → Cut-Extrude12 (cut)
    with BuildSketch(Plane(origin=(0, 1.5875, 0), x_dir=(1, 0, 0), z_dir=(0, 1, 0))):
        with Locations(Location((36, -40.74414887, 0), (0, 0, 270))):
            Circle(SKETCH20_R)
    extrude(amount=-CUT_EXTRUDE12_DEPTH, mode=Mode.SUBTRACT)

    # Sketch21 → Cut-Extrude13 (cut)
    with BuildSketch(Plane(origin=(0, 1.5875, 0), x_dir=(1, 0, 0), z_dir=(0, 1, 0)).offset(CUT_EXTRUDE13_START)):
        with Locations((40.546257627, 106.672616503)):
            Circle(SKETCH21_R)
    extrude(amount=CUT_EXTRUDE13_DEPTH, mode=Mode.SUBTRACT)

    # Sketch22 → Boss-Extrude9 (add)
    with BuildSketch(Plane(origin=(0, 1.5875, 0), x_dir=(1, 0, 0), z_dir=(0, 1, 0))):
        with Locations((19.710998912, 27.57798388)):
            Circle(SKETCH22_R)
        with Locations((15.246756035, 6.307648563)):
            Circle(SKETCH22_R_2)
    extrude(amount=-BOSS_EXTRUDE9_DEPTH)

    # Sketch23 → Cut-Extrude15 (cut)
    with BuildSketch(Plane(origin=(0, 1.5875, 0), x_dir=(1, 0, 0), z_dir=(0, 1, 0))):
        with Locations(Location((15.246756035, 6.307648563, 0), (0, 0, 270))):
            Circle(SKETCH23_R)
    extrude(amount=-CUT_EXTRUDE15_DEPTH, mode=Mode.SUBTRACT)


solid = part.part
